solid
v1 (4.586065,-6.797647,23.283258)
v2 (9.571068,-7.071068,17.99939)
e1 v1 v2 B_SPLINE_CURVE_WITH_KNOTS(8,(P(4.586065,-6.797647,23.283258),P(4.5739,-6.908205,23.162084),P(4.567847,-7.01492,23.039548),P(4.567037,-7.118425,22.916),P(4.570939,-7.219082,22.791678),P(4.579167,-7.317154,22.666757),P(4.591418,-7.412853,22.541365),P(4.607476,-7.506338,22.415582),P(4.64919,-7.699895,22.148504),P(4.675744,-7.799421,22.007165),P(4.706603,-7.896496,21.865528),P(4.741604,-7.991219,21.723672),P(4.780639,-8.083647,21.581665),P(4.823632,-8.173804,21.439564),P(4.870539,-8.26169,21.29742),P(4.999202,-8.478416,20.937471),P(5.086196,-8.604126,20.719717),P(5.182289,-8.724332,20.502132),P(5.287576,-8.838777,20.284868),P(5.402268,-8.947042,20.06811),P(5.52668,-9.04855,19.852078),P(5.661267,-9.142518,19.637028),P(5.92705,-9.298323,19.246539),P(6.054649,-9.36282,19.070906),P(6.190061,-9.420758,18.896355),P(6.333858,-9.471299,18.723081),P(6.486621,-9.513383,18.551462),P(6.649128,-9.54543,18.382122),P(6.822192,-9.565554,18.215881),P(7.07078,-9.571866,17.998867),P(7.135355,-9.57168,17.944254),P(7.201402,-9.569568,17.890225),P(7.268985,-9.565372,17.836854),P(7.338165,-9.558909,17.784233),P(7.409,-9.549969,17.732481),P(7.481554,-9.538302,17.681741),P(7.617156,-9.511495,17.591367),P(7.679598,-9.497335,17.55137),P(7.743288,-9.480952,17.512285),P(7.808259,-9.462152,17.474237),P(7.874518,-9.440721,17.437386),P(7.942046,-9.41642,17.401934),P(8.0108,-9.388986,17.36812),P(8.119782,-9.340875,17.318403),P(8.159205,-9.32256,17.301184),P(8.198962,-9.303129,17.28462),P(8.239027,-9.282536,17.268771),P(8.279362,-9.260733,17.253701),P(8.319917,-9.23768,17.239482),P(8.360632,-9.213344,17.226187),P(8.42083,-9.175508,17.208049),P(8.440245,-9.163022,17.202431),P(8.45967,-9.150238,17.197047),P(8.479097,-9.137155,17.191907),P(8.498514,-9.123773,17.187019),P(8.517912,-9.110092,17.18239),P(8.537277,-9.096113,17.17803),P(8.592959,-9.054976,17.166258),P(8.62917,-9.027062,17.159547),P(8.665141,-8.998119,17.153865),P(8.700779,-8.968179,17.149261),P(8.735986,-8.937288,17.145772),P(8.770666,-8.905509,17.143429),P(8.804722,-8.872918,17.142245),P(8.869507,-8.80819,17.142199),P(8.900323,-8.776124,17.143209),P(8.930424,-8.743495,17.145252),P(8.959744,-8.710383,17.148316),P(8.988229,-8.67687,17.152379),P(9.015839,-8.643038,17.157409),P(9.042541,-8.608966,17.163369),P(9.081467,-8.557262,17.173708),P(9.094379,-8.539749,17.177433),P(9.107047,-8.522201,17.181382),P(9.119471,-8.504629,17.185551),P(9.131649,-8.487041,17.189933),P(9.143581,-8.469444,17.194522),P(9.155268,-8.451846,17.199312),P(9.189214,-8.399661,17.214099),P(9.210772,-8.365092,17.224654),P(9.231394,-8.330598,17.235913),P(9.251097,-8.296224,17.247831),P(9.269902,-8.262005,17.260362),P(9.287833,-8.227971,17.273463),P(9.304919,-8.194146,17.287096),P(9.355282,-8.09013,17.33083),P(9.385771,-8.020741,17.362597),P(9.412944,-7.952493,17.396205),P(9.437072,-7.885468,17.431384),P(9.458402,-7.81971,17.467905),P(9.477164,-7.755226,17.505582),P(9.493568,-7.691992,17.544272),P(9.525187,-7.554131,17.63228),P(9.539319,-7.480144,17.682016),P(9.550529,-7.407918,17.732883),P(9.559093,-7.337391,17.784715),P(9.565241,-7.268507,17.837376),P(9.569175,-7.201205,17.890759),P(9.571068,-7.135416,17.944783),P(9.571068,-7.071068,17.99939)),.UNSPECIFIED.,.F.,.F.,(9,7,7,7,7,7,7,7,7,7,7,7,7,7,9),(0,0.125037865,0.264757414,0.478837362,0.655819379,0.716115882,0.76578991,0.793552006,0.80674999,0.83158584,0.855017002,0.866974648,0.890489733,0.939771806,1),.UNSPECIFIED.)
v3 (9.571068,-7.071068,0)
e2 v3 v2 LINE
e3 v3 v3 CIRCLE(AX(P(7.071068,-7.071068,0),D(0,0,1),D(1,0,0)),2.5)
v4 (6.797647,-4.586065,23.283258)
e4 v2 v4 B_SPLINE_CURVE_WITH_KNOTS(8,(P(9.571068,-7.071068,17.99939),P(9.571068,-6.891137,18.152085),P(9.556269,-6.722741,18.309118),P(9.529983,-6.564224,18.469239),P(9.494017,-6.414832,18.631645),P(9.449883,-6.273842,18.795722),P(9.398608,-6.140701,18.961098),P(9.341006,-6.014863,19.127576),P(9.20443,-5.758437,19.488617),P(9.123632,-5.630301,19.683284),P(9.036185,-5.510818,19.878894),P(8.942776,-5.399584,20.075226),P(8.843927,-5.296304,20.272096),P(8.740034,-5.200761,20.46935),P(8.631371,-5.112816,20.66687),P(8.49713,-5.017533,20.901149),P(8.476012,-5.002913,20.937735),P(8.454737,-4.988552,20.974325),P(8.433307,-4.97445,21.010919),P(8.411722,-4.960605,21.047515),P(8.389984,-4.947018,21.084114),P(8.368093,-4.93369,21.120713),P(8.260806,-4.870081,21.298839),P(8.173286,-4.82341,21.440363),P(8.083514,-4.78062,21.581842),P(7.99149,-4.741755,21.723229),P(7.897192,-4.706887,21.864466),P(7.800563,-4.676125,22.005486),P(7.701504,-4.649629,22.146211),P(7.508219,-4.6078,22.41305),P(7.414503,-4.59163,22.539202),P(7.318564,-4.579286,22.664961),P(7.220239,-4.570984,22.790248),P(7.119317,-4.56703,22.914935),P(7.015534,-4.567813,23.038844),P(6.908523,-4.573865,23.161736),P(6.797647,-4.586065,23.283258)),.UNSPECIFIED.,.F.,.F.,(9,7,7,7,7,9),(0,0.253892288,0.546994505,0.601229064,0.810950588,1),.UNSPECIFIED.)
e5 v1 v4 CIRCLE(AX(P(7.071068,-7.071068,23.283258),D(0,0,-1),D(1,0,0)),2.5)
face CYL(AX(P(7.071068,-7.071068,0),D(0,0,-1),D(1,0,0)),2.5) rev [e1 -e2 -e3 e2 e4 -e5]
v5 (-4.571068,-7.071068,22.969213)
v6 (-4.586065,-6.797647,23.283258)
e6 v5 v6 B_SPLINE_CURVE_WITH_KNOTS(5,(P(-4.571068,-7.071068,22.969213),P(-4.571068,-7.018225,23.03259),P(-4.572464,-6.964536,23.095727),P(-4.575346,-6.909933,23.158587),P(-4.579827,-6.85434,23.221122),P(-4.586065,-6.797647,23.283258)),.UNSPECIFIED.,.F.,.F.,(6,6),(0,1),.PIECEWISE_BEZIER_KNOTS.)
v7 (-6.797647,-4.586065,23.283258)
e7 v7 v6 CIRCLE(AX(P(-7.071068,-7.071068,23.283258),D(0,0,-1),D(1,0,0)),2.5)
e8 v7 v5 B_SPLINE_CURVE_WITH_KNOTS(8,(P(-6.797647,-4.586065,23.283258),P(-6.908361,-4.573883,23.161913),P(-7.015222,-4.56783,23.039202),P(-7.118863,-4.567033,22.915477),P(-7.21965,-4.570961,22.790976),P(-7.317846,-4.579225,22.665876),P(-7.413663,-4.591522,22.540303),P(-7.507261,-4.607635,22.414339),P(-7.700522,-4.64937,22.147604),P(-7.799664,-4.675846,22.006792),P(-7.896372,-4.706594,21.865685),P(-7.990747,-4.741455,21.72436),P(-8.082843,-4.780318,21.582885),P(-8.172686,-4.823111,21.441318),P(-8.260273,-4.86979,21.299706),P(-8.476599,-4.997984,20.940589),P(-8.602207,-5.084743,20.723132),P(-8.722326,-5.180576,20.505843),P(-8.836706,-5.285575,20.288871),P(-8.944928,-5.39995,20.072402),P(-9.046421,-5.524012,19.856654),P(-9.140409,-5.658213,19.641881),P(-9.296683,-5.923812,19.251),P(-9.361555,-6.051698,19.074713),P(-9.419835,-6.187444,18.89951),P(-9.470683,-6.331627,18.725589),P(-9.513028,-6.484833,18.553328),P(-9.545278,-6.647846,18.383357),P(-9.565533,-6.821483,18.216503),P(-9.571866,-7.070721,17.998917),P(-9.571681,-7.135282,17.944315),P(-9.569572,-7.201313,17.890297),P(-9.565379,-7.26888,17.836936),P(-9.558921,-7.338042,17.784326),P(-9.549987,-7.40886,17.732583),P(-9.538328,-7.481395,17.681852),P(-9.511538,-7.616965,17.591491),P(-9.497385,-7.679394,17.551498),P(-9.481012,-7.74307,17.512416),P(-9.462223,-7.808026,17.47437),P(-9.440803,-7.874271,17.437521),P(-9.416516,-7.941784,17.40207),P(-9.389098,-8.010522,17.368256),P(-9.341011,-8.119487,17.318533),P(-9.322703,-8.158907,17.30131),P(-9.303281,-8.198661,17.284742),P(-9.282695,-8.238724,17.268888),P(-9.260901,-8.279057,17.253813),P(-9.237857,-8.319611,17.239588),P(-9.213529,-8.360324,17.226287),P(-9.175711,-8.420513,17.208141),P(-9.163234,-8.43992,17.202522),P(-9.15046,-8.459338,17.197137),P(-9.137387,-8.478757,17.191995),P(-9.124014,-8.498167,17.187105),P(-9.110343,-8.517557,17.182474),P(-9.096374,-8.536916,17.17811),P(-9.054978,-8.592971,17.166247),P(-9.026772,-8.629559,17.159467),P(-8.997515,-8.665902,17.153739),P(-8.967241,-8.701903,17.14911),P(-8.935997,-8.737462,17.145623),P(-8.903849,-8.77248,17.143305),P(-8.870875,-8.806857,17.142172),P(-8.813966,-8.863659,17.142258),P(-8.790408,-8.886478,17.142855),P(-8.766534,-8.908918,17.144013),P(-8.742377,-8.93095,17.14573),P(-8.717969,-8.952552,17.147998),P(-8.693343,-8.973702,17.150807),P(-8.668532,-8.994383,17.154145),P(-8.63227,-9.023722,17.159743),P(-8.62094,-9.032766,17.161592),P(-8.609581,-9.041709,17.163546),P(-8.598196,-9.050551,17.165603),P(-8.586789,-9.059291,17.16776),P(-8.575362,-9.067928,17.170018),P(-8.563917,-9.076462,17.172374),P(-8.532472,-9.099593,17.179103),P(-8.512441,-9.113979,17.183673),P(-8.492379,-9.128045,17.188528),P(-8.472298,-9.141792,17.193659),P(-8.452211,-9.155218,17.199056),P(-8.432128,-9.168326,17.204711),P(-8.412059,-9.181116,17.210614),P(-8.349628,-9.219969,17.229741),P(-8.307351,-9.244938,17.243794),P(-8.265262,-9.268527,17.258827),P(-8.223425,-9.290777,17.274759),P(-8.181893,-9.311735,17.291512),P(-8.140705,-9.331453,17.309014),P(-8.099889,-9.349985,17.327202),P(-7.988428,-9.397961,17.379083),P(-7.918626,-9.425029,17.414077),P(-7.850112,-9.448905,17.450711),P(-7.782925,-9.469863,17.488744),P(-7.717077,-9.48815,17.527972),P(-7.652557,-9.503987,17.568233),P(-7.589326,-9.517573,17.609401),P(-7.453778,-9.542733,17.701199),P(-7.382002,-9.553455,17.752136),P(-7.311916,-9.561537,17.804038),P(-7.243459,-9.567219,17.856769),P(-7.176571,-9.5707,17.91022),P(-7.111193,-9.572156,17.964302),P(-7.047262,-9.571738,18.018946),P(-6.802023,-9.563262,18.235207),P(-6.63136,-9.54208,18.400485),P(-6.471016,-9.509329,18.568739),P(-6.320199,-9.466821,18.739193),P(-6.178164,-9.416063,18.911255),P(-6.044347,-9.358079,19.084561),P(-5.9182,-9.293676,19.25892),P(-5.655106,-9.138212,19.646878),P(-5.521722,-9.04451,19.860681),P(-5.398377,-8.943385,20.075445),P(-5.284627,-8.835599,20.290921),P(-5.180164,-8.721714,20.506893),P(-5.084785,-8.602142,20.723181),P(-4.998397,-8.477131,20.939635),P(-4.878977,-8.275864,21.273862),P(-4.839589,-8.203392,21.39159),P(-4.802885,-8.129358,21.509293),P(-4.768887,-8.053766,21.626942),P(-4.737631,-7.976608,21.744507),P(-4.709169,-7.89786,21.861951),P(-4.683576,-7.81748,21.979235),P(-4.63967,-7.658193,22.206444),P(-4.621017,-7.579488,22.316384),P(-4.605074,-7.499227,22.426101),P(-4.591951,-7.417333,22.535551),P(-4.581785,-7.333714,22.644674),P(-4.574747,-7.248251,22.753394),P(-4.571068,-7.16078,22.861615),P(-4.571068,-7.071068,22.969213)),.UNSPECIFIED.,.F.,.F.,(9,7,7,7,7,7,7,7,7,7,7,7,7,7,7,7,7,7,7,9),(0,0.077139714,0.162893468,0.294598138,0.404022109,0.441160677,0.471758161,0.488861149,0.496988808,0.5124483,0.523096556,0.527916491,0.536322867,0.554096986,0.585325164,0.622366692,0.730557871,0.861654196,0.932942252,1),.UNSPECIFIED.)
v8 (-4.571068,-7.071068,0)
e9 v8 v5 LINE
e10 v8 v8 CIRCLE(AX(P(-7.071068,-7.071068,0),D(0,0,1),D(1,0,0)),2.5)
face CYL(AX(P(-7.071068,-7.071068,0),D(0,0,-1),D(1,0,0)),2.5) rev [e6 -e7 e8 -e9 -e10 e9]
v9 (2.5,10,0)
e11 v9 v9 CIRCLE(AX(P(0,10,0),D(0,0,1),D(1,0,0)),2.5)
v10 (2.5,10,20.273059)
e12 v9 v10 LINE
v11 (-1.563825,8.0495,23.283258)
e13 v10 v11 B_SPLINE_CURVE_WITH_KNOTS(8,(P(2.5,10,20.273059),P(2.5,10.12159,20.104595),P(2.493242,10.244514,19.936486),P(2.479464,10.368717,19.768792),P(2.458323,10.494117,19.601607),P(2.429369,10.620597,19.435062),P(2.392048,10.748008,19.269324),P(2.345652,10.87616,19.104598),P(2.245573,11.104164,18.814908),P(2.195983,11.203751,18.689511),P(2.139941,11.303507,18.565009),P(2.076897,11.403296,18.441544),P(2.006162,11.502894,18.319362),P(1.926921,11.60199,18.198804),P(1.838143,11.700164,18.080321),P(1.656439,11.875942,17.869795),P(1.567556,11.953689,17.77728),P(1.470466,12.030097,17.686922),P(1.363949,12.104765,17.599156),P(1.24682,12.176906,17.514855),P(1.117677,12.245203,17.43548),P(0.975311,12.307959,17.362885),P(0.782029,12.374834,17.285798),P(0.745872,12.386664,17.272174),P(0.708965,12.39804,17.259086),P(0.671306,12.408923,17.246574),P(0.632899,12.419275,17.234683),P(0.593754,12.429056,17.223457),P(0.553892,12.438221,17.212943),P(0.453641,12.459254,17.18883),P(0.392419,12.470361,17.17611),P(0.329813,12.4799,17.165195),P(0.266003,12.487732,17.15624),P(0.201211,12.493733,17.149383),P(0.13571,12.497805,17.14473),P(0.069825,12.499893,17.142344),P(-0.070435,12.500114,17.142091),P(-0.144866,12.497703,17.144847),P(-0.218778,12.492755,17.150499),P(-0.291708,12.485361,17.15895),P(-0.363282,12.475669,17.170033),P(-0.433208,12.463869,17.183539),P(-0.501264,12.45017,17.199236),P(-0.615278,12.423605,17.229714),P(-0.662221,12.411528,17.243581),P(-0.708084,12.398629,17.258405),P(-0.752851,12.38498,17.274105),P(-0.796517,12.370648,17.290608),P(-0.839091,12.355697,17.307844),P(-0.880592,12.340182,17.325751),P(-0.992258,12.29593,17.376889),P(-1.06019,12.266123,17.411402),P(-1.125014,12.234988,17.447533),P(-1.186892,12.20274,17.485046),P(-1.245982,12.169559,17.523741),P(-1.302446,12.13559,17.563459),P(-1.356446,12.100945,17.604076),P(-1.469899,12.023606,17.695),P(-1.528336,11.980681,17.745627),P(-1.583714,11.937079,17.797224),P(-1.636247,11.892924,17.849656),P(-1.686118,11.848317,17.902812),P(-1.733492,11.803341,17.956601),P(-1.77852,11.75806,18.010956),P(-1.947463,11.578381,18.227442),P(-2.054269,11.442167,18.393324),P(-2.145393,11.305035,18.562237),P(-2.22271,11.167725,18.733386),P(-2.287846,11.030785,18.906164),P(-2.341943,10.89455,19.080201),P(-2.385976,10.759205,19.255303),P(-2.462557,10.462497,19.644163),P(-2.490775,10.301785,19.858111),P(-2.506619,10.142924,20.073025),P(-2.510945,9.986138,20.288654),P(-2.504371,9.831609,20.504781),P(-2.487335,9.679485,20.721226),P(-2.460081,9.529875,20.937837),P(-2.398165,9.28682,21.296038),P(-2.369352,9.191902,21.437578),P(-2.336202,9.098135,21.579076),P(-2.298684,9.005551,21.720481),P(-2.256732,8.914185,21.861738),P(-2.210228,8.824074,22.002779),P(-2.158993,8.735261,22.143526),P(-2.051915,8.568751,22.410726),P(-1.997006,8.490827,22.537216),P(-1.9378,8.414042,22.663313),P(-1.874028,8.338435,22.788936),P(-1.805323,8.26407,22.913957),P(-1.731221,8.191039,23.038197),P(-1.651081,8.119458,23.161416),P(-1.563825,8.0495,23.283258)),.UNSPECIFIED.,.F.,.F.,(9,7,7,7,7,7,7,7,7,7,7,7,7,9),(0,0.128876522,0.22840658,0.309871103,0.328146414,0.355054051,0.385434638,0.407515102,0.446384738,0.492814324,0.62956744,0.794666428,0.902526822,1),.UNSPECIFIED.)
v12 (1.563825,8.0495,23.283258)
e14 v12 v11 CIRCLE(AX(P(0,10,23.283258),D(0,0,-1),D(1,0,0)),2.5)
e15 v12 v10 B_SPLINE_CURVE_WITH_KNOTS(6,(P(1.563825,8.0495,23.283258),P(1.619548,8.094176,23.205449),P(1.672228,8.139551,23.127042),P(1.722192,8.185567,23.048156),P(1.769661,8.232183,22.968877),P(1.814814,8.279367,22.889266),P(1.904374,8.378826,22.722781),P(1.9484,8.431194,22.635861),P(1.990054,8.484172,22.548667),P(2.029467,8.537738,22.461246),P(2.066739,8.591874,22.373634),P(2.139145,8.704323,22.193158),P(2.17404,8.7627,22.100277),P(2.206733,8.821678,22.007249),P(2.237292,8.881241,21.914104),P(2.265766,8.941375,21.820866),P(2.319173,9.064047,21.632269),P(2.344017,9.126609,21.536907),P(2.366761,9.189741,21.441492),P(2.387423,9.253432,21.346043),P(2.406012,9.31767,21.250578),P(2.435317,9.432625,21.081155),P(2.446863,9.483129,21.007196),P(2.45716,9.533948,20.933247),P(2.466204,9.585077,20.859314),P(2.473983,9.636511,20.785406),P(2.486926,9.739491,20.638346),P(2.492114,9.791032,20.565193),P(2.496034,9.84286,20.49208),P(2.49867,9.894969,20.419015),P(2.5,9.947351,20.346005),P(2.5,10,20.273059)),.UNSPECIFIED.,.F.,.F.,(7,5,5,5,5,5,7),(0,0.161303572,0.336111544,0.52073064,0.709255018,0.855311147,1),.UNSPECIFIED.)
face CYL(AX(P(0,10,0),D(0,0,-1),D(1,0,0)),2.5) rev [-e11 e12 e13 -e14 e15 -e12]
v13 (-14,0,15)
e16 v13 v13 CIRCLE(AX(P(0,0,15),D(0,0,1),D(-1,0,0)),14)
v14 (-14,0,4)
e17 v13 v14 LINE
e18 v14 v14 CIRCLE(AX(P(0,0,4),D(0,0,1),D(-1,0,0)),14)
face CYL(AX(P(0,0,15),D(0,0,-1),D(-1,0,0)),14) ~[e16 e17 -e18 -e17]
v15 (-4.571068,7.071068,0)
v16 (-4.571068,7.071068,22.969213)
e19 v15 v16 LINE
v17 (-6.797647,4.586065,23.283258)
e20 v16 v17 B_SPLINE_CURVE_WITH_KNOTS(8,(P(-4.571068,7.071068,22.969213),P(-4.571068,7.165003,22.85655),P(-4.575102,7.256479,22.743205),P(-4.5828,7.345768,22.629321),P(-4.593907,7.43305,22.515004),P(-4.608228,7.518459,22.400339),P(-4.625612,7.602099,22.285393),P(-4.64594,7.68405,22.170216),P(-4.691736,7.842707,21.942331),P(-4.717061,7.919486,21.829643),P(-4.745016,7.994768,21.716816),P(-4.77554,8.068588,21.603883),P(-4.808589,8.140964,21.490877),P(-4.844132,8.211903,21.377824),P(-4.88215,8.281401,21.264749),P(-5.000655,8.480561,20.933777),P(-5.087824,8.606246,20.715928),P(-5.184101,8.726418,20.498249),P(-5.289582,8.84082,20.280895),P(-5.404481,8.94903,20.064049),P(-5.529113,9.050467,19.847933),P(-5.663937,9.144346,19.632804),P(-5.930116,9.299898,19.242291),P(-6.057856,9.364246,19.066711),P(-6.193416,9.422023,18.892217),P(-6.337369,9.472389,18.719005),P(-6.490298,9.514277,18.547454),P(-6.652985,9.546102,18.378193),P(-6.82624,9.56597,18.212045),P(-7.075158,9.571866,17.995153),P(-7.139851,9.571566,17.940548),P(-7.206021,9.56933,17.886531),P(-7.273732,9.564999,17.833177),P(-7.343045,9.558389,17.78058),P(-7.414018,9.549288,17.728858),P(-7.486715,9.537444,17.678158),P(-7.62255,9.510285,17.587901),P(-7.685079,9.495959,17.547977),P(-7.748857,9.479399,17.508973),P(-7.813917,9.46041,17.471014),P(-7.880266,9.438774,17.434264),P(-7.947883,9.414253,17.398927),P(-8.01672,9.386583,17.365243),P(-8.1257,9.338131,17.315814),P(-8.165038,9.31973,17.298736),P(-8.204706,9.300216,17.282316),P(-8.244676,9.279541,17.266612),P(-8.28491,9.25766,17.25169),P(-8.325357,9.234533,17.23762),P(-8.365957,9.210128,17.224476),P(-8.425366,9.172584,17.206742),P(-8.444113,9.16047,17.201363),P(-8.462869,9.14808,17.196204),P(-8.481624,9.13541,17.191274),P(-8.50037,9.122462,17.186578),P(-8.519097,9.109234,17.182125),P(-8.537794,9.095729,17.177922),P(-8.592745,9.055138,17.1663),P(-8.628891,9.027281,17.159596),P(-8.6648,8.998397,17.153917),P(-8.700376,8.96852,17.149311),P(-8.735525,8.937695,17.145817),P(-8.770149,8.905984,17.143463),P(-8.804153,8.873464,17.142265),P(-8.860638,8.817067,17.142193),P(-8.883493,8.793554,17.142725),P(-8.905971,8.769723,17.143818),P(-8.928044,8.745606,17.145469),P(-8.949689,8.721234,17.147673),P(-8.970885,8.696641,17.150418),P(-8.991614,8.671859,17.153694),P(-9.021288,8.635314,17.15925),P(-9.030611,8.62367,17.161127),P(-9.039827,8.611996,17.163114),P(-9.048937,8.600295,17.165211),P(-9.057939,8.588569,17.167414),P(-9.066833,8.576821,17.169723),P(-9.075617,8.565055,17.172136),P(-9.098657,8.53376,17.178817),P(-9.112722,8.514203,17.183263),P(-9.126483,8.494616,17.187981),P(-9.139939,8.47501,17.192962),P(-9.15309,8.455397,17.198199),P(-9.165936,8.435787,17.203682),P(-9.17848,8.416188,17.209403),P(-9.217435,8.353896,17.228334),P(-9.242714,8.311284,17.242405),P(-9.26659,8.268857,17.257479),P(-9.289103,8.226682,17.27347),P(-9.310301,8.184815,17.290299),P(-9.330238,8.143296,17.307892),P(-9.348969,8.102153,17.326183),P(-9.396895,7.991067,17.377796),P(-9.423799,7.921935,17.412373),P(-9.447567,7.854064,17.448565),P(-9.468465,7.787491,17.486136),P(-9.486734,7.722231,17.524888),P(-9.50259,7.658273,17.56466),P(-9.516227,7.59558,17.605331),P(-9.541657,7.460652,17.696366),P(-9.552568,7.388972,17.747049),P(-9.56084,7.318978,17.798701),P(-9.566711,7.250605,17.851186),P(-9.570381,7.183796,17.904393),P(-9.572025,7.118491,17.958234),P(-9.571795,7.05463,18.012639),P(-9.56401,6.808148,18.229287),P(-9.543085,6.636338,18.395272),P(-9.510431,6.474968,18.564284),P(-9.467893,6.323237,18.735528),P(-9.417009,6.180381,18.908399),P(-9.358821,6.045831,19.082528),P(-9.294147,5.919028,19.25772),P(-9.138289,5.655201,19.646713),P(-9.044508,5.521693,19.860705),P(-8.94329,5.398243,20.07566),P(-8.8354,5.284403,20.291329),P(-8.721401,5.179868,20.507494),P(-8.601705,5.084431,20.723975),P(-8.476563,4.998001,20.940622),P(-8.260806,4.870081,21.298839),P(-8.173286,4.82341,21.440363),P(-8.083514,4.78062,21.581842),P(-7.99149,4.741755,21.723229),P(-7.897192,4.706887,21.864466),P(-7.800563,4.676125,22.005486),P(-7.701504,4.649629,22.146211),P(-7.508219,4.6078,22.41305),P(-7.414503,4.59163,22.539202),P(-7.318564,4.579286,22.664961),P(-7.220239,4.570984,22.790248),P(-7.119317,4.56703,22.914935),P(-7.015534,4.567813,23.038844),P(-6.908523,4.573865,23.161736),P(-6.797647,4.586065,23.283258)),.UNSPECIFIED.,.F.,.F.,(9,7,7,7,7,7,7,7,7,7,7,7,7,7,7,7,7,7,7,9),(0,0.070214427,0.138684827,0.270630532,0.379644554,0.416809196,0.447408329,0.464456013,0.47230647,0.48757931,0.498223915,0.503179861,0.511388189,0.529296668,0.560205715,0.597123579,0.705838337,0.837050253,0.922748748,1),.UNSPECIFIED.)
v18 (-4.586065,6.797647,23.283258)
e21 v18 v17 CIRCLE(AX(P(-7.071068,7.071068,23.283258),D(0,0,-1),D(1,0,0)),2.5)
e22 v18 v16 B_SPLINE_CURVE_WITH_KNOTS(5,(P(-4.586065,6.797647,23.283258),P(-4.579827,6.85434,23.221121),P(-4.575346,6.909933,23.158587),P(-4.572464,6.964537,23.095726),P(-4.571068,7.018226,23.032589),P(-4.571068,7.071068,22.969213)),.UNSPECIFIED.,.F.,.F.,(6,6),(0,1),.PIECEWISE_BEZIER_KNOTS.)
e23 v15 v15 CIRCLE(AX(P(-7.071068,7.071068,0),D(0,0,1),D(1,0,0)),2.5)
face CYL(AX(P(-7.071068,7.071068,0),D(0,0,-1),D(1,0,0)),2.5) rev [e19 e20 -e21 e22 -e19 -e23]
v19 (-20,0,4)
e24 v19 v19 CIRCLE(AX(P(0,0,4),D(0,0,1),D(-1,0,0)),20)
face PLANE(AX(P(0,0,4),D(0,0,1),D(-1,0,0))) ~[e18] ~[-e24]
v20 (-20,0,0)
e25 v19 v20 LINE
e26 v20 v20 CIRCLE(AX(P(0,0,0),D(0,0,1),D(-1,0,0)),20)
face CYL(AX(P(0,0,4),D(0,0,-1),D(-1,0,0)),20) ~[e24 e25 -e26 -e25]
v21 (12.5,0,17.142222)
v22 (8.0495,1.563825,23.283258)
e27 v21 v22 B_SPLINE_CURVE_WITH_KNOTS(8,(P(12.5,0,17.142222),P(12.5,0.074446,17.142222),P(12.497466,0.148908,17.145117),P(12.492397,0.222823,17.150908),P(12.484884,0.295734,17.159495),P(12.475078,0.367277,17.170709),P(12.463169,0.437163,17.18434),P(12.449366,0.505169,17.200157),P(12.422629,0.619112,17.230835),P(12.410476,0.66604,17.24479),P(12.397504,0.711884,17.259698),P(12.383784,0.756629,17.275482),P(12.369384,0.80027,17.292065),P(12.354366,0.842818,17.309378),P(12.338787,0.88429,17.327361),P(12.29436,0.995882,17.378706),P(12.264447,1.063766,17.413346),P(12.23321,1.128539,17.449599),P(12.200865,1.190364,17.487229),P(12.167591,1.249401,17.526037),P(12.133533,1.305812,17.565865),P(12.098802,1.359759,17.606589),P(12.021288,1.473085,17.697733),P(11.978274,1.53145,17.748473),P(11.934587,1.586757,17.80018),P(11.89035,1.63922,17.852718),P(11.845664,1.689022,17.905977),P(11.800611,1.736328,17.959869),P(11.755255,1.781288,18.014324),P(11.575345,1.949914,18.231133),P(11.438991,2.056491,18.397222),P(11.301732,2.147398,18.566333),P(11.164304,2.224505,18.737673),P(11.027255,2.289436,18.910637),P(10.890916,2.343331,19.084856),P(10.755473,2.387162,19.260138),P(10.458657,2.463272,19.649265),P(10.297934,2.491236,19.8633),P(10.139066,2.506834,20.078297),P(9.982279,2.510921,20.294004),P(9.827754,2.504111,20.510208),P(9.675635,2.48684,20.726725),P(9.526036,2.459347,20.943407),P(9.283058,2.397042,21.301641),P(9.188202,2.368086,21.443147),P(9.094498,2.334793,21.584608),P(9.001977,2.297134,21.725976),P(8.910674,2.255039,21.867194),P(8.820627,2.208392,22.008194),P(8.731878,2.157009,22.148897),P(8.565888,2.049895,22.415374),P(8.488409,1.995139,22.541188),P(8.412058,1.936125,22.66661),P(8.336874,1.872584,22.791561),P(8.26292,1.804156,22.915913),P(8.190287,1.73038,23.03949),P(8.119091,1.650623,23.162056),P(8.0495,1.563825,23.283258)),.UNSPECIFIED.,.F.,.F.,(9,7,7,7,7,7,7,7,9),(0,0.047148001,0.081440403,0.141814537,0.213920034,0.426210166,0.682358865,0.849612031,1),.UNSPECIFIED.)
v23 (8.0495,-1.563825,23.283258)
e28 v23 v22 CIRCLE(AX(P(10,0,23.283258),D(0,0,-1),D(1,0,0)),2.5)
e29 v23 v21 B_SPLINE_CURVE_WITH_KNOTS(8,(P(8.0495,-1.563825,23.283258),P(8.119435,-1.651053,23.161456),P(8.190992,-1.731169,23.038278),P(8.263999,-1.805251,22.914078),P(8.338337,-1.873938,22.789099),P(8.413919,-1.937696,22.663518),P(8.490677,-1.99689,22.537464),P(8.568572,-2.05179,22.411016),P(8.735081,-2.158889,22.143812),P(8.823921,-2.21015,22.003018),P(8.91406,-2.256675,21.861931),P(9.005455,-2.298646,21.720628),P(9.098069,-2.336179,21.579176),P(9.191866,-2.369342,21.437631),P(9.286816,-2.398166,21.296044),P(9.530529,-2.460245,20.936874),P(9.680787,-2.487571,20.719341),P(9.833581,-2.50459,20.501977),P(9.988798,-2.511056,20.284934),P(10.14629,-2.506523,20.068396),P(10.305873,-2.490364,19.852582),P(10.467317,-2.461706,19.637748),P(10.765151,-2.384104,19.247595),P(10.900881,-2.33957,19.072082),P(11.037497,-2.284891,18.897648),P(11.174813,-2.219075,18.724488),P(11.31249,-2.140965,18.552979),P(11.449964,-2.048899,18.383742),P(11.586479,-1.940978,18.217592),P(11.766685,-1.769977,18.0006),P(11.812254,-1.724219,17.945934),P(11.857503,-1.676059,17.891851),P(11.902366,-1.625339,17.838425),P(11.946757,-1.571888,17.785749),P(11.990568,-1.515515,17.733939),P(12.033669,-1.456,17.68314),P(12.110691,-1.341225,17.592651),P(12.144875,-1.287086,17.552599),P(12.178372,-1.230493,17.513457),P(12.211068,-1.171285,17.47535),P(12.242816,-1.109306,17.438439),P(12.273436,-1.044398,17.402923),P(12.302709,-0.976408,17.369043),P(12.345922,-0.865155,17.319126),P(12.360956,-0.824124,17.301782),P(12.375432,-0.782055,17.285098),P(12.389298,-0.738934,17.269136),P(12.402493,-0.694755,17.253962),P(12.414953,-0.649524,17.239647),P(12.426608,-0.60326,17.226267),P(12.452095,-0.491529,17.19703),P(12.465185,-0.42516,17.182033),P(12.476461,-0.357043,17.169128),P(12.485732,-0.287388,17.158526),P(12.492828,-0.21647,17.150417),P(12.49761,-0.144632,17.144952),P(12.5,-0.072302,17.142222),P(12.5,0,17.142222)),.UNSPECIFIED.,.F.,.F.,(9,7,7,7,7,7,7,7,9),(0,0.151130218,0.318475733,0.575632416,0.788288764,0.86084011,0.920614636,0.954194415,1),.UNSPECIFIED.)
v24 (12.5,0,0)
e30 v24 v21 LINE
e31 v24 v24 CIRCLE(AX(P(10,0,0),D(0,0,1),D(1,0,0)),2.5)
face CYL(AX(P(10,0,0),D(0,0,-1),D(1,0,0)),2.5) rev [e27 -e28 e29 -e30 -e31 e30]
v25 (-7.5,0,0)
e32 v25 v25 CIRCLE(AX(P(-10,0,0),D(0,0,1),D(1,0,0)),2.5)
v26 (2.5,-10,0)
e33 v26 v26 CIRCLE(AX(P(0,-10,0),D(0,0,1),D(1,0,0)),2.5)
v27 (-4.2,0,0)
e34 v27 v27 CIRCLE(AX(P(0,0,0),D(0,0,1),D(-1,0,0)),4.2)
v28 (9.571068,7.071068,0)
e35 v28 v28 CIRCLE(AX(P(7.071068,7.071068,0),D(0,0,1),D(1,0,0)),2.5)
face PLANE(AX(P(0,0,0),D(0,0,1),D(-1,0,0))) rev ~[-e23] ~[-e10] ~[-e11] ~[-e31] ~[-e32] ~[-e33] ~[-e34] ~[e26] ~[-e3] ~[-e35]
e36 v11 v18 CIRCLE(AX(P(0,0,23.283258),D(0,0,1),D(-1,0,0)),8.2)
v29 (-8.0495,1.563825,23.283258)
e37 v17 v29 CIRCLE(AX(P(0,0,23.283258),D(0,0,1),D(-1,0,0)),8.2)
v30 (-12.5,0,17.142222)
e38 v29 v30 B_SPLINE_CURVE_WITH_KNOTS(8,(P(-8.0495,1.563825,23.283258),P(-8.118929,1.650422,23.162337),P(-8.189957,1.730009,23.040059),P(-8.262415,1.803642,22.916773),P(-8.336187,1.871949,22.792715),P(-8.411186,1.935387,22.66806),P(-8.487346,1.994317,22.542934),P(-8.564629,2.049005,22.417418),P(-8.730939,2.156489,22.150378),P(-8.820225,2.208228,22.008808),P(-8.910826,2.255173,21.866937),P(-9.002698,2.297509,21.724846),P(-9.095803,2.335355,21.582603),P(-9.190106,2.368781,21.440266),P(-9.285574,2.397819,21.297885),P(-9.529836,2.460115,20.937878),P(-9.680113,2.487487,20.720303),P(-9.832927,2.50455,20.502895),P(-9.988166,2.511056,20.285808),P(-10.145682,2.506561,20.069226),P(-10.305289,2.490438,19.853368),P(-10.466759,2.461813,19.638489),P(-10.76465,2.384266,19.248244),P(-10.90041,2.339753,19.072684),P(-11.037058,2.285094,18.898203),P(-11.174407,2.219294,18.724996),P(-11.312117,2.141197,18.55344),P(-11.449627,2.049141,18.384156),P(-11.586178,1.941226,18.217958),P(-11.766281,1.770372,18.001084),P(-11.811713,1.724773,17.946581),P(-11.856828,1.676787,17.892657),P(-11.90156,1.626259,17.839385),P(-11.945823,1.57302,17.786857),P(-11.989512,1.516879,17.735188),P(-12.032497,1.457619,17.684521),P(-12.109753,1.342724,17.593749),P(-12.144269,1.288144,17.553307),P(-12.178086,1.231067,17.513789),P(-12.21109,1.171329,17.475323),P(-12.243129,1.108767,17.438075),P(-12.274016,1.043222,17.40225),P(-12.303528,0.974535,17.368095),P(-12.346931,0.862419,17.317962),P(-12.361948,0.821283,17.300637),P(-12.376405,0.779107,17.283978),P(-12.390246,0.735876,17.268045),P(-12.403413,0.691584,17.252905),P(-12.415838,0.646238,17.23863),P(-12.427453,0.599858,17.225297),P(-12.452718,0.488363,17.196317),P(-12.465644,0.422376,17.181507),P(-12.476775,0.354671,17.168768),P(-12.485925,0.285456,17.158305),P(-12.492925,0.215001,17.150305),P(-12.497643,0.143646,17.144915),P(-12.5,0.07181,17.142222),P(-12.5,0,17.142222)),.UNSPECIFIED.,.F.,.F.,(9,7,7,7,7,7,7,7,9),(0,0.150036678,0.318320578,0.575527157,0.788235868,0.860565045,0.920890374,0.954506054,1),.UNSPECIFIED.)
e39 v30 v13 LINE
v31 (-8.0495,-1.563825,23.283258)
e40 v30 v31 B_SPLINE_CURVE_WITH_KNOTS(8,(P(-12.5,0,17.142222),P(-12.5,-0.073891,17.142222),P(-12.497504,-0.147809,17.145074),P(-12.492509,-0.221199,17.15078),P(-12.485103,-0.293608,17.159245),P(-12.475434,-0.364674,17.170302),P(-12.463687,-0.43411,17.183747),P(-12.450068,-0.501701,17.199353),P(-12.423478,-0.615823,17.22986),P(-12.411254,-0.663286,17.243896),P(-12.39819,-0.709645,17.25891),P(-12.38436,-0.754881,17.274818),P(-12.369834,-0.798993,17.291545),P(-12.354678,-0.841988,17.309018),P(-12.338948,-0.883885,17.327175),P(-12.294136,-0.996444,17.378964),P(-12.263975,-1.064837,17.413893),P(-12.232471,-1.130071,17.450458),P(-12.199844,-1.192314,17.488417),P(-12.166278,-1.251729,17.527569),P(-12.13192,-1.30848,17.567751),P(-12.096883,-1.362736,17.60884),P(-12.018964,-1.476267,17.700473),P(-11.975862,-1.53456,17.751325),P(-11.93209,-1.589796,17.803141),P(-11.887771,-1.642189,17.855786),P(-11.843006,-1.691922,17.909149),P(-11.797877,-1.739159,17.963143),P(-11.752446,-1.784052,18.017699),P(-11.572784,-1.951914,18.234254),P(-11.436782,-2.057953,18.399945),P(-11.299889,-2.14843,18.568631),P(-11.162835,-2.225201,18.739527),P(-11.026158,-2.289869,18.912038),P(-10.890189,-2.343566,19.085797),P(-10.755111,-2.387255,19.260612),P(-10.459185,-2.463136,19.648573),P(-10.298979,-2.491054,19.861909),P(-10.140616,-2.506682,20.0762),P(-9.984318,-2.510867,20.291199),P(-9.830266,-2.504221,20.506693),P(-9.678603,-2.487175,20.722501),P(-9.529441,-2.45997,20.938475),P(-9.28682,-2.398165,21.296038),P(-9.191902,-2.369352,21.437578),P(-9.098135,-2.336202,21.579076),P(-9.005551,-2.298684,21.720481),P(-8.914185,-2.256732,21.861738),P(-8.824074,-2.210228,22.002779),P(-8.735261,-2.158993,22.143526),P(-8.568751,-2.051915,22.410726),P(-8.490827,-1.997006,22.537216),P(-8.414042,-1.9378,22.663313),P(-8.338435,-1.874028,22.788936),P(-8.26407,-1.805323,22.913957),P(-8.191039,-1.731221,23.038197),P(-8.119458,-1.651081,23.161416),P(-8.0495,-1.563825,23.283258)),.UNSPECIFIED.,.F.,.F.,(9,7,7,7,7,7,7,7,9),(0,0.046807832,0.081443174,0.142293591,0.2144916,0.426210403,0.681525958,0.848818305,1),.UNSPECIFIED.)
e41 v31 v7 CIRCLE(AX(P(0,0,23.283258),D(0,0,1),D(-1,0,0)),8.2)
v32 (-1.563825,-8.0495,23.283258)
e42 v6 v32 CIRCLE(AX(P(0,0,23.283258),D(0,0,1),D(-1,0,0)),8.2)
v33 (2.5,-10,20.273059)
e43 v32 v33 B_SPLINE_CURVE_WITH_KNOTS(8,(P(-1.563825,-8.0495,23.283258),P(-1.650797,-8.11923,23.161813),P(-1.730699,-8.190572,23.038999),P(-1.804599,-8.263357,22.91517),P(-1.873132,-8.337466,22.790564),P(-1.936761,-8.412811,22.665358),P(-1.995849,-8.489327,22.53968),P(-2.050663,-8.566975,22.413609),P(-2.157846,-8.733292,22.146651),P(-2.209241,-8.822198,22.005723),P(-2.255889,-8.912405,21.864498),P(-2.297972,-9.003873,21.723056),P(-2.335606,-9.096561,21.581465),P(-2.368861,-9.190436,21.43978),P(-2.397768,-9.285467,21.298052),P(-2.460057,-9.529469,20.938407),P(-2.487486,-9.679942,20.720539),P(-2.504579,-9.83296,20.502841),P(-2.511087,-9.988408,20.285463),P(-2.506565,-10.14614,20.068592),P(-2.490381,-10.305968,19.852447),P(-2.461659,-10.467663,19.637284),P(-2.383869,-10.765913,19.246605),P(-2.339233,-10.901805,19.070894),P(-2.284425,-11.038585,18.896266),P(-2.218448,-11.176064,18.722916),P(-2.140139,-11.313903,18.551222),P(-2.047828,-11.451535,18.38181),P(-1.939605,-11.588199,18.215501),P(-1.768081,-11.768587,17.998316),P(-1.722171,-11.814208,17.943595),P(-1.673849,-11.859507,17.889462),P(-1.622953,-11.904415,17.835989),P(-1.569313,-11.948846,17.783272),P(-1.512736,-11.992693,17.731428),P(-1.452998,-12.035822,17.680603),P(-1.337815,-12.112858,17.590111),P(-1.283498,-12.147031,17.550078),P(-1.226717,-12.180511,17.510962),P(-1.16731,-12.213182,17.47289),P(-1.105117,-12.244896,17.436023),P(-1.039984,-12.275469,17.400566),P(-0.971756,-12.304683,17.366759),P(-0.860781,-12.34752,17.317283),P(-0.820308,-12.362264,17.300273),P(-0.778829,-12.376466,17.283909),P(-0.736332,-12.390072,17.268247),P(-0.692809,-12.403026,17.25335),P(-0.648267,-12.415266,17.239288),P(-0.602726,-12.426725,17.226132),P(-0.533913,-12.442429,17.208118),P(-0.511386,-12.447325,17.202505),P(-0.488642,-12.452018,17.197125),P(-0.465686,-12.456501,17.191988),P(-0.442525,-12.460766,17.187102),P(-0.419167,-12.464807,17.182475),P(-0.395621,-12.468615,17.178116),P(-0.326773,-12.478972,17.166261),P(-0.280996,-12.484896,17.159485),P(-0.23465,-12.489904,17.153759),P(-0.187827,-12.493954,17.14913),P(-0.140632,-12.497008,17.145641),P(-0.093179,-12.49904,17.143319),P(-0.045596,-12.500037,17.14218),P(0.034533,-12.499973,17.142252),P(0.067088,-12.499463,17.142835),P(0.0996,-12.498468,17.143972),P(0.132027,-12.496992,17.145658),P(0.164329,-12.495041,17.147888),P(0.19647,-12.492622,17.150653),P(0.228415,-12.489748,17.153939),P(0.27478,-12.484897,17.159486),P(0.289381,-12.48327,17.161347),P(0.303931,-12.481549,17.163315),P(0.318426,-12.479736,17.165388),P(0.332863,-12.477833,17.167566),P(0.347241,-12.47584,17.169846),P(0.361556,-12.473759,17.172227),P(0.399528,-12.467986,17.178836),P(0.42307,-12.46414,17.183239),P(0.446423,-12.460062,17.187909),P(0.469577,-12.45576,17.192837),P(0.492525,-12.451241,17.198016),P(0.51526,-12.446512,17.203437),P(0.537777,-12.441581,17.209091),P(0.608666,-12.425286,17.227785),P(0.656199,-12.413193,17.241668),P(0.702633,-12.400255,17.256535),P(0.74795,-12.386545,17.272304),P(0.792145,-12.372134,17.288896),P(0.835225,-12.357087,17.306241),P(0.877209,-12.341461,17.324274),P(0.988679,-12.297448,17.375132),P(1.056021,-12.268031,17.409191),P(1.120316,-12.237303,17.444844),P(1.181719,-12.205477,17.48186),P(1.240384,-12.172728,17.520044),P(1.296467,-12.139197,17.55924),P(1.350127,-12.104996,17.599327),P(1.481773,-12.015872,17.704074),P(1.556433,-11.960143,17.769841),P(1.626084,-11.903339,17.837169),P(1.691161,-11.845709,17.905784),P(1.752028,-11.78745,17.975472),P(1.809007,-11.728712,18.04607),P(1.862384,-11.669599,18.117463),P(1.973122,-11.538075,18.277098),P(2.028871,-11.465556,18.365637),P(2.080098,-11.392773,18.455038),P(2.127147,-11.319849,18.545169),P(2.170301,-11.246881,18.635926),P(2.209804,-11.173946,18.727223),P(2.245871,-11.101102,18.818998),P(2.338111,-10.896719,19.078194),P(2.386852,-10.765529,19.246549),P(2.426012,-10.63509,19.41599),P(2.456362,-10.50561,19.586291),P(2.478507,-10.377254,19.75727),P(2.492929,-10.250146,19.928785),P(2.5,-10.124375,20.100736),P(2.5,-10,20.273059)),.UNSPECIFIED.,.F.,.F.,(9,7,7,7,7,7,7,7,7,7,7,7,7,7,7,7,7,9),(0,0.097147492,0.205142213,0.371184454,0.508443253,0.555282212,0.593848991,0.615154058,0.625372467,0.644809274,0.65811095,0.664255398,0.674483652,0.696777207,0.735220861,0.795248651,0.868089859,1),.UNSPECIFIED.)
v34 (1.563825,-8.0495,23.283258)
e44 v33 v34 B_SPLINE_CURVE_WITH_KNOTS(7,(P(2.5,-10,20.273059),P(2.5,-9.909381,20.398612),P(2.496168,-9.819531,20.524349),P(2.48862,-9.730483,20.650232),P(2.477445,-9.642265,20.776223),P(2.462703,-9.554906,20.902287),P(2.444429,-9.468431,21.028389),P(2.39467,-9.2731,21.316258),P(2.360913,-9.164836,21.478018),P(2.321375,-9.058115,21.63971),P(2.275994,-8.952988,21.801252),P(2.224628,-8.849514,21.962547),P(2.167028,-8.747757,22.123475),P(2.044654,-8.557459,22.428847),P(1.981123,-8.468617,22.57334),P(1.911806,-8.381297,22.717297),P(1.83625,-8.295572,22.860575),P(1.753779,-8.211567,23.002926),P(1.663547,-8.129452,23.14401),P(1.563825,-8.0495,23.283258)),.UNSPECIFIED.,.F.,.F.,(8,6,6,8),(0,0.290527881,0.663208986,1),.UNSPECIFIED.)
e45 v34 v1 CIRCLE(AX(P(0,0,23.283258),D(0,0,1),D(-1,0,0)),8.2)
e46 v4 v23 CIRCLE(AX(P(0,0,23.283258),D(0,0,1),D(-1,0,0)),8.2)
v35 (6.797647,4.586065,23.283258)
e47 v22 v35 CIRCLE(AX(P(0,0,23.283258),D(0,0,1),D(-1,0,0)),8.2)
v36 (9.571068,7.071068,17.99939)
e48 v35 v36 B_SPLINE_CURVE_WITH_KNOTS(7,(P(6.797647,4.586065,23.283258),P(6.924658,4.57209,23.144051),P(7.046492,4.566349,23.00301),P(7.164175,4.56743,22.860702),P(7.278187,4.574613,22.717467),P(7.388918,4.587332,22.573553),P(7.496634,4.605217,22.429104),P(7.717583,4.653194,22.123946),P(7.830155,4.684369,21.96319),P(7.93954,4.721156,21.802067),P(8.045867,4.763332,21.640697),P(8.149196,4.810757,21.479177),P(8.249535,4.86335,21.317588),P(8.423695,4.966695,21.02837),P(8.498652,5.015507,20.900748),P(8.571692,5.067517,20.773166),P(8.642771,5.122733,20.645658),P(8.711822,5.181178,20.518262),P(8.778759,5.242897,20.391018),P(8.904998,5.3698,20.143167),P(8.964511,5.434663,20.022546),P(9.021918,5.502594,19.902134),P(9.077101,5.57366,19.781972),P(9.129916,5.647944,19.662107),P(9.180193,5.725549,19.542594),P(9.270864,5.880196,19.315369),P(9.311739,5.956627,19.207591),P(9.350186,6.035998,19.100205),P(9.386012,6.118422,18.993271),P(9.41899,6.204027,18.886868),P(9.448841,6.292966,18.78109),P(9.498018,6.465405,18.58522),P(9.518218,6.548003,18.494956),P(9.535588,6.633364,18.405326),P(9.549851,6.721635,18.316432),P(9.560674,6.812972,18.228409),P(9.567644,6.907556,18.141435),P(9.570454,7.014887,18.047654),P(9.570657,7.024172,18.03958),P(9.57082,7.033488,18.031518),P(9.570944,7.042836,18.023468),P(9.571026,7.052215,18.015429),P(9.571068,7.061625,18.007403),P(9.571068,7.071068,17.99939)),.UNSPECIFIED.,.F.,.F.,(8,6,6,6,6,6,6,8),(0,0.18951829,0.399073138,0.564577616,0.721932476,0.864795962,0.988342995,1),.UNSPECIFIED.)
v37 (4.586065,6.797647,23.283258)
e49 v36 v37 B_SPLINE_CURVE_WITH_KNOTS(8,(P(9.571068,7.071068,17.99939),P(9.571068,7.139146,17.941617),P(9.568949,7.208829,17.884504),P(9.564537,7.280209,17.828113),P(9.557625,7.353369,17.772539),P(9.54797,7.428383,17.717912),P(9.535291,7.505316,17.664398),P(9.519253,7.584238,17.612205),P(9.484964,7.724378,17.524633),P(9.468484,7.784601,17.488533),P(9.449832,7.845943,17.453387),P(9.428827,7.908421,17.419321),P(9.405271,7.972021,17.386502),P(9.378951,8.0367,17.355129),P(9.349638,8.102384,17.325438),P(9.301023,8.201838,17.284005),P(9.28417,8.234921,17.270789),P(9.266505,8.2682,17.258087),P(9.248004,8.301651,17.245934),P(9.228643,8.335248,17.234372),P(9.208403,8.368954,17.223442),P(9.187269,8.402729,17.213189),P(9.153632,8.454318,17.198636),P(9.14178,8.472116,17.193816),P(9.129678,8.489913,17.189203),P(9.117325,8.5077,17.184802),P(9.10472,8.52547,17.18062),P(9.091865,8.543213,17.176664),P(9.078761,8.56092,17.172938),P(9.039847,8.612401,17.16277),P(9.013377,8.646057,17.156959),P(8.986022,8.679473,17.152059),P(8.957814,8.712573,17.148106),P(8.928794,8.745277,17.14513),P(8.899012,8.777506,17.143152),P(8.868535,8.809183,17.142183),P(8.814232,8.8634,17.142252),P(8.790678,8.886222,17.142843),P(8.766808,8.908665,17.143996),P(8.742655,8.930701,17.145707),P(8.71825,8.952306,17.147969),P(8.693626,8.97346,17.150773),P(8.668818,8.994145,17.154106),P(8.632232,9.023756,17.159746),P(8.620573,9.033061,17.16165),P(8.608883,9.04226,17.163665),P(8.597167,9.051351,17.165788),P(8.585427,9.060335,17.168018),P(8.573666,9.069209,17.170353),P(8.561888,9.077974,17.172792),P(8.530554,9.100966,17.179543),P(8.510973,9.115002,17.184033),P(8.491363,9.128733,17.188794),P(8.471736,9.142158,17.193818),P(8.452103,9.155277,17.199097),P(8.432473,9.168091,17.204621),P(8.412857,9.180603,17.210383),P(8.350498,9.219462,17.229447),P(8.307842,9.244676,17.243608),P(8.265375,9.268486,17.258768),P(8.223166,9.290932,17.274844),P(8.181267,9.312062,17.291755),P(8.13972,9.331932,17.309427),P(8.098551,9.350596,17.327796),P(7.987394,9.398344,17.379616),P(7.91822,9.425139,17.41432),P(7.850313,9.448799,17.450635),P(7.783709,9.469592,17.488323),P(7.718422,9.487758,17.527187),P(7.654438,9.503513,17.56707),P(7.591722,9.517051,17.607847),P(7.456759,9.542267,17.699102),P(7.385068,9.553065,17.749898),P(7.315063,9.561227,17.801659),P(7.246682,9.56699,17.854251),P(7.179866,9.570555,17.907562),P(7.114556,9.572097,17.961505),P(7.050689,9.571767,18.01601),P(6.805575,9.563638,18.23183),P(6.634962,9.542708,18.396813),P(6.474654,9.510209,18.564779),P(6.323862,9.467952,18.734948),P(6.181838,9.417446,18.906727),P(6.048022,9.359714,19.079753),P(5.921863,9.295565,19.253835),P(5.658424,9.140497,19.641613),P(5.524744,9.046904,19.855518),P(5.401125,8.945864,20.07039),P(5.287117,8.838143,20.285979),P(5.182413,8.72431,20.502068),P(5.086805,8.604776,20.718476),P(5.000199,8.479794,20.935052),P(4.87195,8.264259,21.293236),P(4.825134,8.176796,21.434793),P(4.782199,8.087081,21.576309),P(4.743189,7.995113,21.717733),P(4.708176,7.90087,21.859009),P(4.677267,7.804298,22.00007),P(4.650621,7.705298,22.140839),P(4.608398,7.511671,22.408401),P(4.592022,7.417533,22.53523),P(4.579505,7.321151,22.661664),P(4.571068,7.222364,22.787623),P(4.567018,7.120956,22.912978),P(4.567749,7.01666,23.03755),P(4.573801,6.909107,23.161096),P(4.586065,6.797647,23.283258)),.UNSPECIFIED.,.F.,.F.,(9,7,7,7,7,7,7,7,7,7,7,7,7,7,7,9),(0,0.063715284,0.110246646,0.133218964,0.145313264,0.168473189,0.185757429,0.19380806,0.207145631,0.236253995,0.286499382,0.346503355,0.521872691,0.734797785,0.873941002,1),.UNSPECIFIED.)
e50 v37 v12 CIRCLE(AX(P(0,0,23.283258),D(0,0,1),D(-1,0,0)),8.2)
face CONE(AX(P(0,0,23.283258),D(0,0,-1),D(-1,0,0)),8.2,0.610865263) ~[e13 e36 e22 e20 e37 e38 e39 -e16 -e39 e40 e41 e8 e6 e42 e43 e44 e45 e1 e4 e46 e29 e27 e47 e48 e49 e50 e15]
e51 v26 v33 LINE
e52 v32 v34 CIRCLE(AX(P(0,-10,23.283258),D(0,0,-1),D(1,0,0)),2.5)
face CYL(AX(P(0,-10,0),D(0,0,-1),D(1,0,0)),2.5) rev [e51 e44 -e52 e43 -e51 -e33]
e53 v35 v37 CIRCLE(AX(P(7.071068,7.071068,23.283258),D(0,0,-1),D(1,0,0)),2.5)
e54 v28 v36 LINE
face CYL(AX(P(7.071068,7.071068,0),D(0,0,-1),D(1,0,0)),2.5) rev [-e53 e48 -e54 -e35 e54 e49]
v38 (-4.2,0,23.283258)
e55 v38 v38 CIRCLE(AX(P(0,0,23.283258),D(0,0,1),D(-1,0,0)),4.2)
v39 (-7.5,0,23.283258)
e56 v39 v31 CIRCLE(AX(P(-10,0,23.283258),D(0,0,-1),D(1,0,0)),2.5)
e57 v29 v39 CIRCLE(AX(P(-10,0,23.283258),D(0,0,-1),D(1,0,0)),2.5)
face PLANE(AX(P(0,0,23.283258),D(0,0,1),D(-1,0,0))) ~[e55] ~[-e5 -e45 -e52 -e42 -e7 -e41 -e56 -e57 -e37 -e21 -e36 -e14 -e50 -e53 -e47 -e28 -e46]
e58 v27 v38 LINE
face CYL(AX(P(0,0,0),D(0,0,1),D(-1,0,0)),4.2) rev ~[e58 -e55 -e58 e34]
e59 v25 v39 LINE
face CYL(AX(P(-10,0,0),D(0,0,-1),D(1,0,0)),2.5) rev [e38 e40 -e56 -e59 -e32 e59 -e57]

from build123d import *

# Parameters (mm, degrees)
F2_R     = 2.5
F3_DEPTH = 25


with BuildPart() as f1:
    # F0 (on Front) → F1 (revolve)
    with BuildSketch(Plane.XZ):
        Polygon((-20, 0), (-4.2, 0), (-4.2, 23.283258), (-8.2, 23.283258), (-14, 15), (-14, 4), (-20, 4), align=None)
    revolve(axis=Axis((0, 0, 31.447405), (0, 0, 1)))

    # F2 (on Top) → F3 (cut)
    with BuildSketch(Plane.XY):
        with Locations((0, -10)):
            Circle(F2_R)
        with Locations((7.071068, -7.071068)):
            Circle(F2_R)
        with Locations((10, 0)):
            Circle(F2_R)
        with Locations((7.071068, 7.071068)):
            Circle(F2_R)
        with Locations((0, 10)):
            Circle(F2_R)
        with Locations((-7.071068, 7.071068)):
            Circle(F2_R)
        with Locations((-10, 0)):
            Circle(F2_R)
        with Locations((-7.071068, -7.071068)):
            Circle(F2_R)
    extrude(amount=F3_DEPTH, mode=Mode.SUBTRACT)


solid = f1.part
